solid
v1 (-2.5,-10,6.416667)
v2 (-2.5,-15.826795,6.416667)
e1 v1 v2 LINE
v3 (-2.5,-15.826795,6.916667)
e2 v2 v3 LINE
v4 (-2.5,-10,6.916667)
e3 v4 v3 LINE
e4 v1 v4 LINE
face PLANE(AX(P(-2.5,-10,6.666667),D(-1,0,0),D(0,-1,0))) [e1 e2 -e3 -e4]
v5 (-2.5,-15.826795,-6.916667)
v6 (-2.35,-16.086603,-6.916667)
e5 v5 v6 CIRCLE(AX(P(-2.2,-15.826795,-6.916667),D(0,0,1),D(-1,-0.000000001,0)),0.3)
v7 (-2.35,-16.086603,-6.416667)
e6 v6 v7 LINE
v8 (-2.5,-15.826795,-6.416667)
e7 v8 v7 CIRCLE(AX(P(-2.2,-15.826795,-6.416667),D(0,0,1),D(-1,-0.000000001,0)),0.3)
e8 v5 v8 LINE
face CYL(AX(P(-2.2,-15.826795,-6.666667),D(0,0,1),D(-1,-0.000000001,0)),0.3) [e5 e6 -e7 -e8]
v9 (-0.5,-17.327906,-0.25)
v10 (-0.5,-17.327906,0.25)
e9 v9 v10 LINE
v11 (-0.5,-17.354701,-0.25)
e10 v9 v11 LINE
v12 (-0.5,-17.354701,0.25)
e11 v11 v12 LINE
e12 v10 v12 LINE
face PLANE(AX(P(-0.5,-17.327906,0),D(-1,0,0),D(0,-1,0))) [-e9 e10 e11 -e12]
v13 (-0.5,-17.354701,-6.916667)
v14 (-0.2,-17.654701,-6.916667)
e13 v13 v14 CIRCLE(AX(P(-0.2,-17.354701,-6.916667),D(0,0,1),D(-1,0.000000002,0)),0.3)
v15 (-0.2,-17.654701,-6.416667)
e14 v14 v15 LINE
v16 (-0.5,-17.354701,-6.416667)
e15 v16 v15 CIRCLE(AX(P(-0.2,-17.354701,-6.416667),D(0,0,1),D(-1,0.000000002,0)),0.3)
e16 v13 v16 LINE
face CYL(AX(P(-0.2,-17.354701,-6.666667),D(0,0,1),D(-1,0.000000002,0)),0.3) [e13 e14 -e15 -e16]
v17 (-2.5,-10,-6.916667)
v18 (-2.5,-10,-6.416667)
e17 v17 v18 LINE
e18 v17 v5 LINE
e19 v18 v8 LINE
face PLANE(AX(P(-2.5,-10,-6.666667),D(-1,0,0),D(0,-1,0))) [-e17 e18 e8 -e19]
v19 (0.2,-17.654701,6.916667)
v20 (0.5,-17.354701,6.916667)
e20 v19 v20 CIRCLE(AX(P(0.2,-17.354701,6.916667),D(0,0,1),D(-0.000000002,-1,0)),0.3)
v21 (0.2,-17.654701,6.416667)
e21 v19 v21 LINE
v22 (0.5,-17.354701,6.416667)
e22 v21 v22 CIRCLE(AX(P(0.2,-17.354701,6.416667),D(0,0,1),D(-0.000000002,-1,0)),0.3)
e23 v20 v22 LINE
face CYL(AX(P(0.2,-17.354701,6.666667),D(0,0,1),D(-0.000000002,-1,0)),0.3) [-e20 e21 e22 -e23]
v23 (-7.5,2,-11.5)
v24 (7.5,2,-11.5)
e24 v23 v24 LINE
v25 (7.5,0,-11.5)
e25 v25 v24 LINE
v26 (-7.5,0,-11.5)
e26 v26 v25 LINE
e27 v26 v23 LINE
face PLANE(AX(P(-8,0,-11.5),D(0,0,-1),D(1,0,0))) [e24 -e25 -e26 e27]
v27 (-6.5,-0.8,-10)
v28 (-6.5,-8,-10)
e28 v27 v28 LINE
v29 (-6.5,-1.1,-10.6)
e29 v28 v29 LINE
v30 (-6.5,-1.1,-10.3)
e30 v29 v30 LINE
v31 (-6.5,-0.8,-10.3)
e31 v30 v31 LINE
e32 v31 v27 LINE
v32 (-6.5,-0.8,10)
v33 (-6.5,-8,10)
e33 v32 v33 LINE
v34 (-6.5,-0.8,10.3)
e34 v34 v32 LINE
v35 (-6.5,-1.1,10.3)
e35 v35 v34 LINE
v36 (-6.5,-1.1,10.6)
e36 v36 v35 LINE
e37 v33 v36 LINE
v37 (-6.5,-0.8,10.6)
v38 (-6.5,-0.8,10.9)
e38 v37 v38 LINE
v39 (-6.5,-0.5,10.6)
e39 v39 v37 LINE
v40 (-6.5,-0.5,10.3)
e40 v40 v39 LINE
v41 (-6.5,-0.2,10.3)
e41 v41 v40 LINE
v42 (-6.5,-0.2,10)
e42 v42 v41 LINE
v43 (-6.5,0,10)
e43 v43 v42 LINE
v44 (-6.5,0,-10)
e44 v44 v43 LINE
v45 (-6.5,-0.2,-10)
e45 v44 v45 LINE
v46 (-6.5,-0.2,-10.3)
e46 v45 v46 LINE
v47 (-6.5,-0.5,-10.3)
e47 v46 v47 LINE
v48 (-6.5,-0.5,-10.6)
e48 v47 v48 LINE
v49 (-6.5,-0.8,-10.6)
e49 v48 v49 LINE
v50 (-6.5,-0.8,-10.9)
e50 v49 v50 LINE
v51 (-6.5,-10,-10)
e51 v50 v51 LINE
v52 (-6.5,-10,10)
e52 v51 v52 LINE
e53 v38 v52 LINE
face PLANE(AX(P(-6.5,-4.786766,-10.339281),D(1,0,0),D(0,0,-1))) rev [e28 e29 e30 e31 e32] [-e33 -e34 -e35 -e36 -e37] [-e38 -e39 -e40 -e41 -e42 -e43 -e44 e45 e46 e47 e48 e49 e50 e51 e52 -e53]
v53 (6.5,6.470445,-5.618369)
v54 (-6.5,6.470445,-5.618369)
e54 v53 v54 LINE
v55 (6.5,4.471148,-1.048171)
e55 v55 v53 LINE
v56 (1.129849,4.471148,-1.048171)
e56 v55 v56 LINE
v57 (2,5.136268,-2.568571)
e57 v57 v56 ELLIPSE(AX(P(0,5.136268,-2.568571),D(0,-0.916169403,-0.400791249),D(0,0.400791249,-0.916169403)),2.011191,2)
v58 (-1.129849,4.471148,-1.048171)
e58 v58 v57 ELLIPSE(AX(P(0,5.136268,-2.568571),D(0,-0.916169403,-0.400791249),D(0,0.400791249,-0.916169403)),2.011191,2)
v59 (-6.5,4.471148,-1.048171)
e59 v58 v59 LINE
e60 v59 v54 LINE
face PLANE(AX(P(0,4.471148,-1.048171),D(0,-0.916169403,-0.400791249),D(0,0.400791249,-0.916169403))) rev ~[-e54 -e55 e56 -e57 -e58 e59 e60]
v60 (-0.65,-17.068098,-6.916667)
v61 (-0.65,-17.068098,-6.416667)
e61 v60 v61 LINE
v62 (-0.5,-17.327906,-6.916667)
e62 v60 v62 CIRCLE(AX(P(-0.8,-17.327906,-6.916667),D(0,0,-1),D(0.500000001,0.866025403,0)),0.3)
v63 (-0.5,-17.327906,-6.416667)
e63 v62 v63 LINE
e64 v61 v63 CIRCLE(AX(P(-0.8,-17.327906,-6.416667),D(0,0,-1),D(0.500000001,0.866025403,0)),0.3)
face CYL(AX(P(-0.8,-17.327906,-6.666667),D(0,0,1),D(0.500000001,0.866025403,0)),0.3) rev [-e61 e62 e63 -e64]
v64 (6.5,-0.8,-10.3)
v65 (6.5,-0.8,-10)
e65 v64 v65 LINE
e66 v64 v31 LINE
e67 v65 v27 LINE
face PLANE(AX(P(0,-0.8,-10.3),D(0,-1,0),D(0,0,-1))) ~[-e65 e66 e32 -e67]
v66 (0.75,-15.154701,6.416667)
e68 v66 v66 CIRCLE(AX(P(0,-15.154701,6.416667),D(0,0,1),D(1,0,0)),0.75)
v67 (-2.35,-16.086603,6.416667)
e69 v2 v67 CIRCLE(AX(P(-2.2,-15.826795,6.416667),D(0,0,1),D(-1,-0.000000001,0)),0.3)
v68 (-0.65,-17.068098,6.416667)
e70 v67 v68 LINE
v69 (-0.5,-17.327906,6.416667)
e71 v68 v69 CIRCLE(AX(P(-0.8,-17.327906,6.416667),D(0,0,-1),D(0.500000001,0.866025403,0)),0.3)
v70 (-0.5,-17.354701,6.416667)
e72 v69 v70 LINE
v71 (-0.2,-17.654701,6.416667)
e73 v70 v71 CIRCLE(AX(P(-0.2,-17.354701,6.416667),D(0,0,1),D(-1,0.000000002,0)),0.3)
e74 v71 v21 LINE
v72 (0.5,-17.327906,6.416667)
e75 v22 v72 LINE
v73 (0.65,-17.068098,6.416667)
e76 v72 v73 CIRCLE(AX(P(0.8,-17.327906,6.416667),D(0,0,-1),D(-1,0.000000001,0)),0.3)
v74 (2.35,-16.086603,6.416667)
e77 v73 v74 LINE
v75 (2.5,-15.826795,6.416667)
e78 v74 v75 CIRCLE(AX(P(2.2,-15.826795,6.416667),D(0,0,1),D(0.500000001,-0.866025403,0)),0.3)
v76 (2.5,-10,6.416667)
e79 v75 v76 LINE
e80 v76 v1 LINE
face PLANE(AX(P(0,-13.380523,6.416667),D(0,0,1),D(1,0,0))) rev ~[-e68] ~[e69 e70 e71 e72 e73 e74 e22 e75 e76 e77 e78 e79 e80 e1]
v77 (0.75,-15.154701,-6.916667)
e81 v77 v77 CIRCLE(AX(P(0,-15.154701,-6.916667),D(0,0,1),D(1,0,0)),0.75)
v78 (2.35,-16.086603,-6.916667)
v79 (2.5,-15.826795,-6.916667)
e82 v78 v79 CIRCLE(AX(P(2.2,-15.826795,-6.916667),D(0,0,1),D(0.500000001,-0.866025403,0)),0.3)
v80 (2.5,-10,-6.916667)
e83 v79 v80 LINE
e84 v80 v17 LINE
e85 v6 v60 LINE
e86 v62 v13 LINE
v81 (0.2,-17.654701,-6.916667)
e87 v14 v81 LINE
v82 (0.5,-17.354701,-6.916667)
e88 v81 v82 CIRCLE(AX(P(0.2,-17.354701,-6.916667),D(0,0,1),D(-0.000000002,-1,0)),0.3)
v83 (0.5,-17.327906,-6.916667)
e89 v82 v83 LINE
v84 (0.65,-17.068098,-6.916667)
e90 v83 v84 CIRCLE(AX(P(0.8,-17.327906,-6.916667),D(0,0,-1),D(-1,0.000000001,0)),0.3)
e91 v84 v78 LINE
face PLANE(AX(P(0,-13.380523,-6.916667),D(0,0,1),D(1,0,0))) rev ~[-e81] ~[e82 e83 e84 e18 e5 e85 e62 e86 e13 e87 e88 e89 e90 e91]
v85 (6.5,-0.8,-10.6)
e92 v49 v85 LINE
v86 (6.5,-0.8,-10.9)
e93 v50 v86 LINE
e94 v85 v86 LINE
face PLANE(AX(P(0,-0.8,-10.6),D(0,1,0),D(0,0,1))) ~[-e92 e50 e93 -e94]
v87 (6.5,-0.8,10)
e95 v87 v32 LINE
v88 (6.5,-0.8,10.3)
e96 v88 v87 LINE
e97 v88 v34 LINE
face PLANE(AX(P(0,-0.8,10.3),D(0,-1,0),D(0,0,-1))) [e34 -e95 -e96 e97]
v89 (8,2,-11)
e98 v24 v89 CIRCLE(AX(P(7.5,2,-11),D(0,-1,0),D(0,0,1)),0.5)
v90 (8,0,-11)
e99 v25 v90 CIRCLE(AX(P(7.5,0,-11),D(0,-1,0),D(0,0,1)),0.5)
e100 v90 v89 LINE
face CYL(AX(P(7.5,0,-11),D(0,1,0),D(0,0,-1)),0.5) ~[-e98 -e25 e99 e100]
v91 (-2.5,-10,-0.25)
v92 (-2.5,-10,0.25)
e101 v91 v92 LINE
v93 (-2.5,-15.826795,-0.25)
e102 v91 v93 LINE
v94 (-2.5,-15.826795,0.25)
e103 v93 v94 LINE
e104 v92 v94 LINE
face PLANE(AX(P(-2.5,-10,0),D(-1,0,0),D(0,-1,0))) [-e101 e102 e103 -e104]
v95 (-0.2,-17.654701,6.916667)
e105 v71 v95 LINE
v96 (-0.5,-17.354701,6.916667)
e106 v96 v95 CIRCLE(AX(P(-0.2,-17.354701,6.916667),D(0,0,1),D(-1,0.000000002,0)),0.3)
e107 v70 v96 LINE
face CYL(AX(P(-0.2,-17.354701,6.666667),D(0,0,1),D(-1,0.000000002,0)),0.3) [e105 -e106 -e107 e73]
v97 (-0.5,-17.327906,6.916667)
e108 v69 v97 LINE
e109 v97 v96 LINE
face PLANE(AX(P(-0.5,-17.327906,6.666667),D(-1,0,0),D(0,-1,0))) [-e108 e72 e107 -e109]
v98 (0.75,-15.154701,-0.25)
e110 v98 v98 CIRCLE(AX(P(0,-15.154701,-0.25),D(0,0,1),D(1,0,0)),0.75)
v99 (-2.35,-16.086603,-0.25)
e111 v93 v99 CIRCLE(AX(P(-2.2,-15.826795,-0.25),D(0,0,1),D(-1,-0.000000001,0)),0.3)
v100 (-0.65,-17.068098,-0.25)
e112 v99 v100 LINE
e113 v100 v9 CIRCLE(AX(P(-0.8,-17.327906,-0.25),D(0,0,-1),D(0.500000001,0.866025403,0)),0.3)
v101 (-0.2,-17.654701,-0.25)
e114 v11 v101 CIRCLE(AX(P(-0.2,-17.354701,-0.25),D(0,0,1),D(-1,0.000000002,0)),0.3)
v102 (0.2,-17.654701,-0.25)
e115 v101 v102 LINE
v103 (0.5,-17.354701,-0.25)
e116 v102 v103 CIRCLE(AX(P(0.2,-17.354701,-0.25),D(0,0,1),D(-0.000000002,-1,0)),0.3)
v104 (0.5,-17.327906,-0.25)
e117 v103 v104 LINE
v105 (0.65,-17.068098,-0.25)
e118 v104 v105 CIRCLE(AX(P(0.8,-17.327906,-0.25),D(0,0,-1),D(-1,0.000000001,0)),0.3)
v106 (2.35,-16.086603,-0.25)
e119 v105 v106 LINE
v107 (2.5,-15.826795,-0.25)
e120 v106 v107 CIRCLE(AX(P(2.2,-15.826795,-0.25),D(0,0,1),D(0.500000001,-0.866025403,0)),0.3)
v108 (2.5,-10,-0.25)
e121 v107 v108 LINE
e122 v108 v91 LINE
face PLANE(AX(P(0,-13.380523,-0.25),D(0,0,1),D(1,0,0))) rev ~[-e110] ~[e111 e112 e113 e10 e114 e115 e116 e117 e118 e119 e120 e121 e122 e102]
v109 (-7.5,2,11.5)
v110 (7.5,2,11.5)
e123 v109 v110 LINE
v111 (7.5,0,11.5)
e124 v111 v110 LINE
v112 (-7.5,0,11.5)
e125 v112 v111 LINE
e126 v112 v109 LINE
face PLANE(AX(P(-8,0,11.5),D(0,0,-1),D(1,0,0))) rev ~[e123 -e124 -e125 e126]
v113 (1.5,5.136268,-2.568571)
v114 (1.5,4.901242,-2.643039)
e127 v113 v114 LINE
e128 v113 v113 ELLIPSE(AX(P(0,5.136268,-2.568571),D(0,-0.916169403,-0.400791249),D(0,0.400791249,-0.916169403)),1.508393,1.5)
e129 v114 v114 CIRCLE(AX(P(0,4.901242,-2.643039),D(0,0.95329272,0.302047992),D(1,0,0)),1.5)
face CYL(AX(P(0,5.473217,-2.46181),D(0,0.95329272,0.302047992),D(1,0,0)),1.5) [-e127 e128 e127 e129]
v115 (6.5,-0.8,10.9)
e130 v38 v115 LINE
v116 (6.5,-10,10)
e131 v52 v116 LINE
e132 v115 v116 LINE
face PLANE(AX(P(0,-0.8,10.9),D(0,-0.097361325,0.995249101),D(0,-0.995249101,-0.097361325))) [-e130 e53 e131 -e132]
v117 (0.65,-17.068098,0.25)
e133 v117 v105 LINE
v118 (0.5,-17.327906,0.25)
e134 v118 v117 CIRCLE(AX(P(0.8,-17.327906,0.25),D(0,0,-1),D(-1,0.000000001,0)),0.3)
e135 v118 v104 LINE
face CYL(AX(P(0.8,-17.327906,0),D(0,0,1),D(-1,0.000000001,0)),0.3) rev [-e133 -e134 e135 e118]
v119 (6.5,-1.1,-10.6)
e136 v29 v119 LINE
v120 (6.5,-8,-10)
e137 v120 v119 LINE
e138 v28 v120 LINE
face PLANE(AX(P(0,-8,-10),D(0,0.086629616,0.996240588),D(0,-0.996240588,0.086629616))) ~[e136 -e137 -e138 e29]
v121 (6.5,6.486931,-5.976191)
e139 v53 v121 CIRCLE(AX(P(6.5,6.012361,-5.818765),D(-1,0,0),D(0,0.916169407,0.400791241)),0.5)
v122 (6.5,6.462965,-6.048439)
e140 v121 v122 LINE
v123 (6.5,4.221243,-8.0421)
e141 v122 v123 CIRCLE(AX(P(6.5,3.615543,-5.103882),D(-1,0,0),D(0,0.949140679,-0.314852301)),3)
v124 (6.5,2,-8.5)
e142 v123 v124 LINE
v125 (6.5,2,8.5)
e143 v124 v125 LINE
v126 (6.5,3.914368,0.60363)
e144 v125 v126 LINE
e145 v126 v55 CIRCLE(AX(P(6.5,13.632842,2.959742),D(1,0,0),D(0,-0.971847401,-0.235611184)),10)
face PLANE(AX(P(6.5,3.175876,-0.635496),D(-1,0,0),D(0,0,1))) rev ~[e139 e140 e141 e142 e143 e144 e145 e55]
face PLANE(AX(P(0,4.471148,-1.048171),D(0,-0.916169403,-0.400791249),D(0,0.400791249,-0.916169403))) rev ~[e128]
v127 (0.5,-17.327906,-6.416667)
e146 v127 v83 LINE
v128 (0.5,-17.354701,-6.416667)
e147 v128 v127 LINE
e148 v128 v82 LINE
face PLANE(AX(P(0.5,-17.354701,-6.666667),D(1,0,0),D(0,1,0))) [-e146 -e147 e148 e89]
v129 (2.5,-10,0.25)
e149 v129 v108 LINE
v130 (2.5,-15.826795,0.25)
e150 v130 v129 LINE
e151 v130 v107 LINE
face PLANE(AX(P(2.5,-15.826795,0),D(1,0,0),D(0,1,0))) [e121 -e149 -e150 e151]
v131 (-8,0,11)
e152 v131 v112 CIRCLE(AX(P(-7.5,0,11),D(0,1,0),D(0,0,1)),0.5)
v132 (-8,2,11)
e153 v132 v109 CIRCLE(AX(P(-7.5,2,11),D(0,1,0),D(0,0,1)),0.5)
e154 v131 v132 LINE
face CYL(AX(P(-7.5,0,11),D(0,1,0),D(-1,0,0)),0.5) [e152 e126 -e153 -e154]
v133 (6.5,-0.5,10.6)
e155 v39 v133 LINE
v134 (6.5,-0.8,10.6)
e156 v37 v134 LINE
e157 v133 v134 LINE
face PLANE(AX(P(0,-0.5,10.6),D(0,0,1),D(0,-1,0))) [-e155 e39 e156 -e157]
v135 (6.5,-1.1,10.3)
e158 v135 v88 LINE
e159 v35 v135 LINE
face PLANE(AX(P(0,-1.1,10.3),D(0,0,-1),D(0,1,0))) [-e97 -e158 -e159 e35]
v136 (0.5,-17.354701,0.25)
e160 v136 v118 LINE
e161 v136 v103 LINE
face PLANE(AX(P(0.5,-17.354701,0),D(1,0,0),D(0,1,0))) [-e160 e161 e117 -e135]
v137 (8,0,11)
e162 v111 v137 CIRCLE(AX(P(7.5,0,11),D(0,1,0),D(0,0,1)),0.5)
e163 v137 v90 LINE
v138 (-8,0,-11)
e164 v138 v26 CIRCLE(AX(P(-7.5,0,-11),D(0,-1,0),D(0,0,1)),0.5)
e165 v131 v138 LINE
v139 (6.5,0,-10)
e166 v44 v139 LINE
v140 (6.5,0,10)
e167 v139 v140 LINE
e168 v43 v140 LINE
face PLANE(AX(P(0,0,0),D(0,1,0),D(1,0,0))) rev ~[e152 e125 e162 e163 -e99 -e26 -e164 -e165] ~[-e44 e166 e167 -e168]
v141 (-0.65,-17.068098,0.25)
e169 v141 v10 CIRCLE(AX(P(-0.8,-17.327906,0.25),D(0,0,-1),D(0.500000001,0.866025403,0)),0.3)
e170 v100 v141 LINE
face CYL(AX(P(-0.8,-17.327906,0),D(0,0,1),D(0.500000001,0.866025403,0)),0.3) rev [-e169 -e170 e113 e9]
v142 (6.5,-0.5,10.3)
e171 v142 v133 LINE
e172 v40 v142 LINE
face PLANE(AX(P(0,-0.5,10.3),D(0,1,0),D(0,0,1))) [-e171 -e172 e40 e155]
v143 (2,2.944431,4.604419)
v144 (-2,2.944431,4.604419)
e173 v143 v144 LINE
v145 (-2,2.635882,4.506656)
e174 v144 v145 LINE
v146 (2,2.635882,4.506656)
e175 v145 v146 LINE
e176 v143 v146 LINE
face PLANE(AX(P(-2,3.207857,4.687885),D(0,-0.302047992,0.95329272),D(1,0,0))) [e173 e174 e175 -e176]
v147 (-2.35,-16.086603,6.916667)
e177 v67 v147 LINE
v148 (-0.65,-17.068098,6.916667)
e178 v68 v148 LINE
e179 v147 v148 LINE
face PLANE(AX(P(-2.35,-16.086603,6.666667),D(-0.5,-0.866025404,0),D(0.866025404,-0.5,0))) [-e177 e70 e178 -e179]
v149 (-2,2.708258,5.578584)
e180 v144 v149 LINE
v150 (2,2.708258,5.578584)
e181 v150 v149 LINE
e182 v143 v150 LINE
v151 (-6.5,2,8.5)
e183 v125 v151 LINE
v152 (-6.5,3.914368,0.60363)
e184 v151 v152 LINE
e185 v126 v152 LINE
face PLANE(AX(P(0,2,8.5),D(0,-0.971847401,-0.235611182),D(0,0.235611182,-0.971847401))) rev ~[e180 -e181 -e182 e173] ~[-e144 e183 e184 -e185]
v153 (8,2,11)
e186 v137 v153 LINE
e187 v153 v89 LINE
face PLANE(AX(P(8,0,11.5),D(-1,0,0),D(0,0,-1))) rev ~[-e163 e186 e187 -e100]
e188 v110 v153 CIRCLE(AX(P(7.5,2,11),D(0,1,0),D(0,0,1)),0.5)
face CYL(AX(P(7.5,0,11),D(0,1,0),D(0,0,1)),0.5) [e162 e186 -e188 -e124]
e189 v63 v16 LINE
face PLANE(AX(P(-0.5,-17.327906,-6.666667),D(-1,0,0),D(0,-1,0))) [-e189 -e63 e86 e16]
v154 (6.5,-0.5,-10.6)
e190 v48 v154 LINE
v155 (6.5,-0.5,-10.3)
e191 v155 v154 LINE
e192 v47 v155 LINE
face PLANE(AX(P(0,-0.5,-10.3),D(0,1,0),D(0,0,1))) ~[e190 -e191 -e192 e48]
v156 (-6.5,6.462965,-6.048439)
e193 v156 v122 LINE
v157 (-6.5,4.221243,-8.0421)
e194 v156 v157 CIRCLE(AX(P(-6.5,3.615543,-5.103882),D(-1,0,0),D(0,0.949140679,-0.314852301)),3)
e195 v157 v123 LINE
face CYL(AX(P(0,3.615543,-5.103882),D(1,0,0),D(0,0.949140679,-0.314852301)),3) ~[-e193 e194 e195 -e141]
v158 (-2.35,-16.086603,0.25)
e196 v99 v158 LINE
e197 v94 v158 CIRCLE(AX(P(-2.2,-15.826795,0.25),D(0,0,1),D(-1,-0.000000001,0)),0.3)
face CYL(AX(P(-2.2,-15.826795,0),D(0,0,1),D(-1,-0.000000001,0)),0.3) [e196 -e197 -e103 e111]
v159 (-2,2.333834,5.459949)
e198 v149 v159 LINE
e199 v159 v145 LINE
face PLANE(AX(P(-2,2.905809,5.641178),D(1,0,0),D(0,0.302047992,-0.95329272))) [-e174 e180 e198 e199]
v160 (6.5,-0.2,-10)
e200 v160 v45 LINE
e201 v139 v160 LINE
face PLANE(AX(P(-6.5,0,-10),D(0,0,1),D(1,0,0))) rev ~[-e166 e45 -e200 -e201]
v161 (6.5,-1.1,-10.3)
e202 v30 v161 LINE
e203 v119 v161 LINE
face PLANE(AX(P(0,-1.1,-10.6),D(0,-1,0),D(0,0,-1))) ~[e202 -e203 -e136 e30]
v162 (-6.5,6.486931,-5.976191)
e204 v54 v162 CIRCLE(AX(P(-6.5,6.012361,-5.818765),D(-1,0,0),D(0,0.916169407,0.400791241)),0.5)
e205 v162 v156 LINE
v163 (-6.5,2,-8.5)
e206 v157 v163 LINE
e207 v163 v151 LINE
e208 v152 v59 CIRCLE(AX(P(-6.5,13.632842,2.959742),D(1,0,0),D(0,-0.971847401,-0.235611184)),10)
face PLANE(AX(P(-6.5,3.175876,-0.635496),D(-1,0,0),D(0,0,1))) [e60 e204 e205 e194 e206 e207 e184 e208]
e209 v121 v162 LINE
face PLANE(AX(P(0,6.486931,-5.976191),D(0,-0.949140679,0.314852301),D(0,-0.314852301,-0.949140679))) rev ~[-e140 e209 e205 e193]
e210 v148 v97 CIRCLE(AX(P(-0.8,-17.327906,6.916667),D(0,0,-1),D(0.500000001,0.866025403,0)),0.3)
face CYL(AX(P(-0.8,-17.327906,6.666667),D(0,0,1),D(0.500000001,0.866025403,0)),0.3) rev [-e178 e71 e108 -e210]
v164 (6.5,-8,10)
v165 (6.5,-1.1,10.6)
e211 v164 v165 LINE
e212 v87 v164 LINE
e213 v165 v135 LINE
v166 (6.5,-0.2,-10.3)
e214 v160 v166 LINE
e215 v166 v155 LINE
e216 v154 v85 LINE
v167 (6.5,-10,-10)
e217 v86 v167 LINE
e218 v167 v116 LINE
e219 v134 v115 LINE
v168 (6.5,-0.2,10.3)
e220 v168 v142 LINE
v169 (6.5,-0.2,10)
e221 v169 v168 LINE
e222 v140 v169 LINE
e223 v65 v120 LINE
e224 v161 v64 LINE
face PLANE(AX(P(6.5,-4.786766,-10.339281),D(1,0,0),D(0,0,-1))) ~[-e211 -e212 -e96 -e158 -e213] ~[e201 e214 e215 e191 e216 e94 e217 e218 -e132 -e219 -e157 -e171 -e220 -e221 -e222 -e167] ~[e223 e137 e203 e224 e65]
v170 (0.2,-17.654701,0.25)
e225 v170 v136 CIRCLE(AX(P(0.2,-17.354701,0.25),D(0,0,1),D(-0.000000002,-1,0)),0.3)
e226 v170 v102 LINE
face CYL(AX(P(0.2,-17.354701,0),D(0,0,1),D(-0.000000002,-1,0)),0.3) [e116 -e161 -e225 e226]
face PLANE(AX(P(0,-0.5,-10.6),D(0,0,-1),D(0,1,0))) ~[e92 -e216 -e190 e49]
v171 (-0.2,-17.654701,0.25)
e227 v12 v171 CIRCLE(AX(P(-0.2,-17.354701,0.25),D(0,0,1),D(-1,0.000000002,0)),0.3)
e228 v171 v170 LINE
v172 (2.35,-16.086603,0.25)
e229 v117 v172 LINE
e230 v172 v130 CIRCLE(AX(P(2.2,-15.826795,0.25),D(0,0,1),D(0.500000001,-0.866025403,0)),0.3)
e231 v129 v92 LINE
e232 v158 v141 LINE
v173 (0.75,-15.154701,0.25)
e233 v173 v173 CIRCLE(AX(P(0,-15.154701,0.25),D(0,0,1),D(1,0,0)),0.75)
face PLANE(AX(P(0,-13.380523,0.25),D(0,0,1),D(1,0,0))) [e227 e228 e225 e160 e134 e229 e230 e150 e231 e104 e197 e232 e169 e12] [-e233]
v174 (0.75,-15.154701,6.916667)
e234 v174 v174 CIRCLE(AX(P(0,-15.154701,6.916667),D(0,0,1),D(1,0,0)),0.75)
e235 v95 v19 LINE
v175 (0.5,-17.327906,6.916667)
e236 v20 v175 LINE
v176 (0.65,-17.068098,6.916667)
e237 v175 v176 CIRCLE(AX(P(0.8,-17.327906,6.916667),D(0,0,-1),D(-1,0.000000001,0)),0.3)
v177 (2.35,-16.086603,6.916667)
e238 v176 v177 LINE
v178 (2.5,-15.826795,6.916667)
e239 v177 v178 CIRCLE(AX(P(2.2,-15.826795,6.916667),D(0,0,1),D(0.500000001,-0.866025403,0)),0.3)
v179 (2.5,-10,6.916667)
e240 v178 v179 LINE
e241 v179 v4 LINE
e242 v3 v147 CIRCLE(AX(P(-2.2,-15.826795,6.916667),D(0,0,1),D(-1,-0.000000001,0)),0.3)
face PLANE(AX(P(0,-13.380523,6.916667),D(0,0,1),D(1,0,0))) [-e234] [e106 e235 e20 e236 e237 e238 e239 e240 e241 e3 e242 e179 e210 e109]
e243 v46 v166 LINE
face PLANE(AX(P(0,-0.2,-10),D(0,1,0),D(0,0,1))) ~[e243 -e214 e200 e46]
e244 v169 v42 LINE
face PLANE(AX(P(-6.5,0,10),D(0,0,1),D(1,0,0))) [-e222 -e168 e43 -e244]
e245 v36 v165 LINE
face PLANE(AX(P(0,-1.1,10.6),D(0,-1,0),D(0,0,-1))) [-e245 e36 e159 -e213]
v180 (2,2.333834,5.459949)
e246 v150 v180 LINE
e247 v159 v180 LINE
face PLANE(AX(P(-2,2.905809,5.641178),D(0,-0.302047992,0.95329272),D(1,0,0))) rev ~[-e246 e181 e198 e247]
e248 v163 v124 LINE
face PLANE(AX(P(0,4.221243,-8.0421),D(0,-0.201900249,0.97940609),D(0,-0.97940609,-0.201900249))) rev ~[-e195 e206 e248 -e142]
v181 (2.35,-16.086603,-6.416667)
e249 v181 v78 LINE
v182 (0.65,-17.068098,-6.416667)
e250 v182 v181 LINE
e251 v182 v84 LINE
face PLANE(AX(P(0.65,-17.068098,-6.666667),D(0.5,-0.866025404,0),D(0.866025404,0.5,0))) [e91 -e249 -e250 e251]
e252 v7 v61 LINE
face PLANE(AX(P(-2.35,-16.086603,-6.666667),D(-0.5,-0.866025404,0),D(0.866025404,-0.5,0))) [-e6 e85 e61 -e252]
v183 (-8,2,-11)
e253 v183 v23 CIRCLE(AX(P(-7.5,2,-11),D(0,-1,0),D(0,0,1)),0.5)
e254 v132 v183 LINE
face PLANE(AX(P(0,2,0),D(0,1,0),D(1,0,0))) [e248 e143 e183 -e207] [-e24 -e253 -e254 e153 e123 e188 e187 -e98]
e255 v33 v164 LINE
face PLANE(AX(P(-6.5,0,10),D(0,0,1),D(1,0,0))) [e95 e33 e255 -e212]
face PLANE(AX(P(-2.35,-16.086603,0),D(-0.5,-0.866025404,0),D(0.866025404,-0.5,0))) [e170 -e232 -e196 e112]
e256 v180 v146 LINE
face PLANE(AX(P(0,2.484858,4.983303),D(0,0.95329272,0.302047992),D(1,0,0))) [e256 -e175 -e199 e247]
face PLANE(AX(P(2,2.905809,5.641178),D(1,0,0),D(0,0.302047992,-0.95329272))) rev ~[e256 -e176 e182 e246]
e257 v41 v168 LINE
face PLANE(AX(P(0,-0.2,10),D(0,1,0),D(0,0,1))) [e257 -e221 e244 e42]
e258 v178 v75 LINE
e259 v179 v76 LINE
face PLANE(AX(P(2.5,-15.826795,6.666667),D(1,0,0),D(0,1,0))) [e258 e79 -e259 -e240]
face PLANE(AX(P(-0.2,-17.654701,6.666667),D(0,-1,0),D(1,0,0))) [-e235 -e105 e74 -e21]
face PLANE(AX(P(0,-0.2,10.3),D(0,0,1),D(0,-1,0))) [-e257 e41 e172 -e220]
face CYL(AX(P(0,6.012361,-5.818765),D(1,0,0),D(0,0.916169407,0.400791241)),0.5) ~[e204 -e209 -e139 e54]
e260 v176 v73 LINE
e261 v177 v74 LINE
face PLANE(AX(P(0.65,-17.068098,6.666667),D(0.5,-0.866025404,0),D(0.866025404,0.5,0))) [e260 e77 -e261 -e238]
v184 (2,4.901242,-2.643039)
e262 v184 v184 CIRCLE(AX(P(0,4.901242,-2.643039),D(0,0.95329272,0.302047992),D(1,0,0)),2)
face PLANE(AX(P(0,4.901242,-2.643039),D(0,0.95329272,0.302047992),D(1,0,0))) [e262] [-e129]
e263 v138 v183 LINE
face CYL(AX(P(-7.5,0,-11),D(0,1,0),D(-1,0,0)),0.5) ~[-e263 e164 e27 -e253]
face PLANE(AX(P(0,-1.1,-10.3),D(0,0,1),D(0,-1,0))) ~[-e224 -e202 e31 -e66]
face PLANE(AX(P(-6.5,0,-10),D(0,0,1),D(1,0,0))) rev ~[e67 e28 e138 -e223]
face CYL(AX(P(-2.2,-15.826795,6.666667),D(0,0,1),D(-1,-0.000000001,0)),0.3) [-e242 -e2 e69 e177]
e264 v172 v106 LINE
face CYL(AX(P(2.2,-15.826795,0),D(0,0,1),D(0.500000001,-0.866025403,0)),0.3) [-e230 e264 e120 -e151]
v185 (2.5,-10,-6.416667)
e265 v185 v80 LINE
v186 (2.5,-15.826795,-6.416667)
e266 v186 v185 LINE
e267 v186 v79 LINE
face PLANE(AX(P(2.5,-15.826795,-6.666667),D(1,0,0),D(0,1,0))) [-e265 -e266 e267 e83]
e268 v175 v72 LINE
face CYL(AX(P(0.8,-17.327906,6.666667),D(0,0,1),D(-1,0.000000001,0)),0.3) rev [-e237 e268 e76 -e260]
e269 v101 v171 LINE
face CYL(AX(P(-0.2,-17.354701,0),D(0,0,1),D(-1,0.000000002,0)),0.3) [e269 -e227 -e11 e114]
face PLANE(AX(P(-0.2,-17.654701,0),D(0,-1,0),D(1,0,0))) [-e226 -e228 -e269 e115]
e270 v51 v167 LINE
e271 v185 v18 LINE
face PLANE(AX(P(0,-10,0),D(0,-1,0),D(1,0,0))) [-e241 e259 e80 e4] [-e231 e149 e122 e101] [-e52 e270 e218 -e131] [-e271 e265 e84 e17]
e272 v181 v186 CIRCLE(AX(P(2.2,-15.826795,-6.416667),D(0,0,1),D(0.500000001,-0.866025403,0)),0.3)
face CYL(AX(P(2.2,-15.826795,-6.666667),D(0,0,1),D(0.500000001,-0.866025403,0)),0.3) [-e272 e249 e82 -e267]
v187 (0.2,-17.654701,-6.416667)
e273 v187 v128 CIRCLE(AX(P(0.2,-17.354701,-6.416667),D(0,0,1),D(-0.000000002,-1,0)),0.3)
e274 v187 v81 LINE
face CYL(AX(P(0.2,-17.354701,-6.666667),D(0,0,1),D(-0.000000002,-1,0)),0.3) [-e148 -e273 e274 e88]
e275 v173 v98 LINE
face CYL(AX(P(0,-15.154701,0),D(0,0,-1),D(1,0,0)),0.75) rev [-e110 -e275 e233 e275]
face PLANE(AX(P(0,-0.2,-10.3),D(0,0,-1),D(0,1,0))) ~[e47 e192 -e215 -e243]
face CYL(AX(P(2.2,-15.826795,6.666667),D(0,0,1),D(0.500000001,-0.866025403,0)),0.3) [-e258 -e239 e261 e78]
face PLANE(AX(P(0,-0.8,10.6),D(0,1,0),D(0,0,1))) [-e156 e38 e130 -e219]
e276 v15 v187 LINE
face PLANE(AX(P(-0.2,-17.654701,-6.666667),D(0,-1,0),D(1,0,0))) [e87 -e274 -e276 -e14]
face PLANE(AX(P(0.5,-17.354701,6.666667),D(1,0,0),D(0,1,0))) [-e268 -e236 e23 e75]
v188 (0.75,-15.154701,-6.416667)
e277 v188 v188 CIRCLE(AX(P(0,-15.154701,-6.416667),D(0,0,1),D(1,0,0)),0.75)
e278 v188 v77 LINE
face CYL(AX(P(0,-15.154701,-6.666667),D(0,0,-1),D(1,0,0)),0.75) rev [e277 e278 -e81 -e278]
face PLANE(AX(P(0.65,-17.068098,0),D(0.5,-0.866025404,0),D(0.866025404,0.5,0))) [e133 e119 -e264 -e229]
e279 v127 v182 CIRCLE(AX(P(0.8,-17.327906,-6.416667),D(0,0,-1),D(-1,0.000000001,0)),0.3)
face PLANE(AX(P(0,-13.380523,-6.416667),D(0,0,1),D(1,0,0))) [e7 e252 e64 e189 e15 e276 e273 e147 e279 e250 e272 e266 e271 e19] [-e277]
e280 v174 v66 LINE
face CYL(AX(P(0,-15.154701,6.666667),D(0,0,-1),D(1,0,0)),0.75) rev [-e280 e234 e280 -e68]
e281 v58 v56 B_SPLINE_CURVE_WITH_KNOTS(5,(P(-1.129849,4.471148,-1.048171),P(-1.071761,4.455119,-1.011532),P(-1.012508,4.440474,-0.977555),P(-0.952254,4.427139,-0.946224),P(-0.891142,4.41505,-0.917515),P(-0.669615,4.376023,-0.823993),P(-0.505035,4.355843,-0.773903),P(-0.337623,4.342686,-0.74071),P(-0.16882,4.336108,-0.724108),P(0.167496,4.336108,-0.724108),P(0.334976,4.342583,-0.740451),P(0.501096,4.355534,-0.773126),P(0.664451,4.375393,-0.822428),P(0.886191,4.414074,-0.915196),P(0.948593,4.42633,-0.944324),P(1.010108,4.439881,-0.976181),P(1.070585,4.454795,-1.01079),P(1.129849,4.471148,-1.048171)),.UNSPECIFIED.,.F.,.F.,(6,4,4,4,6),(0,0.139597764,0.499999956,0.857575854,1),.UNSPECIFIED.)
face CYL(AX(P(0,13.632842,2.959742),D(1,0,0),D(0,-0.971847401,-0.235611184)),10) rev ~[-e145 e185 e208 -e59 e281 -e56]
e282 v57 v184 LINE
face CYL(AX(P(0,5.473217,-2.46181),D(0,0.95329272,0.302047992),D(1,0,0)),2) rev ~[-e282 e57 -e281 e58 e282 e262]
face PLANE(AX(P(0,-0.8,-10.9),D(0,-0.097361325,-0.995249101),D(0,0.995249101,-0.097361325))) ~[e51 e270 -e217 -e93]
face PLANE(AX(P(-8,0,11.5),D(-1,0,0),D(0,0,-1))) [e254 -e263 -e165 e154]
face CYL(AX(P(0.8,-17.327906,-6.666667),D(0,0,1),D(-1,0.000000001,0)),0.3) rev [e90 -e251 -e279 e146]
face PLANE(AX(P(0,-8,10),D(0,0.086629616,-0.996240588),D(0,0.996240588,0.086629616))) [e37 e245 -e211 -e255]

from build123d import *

# Parameters (mm, degrees)
CROQUIS1_W              = 16
CROQUIS1_H              = 23
SALIENTE_EXTRUIR1_DEPTH = 2
CROQUIS2_W              = 13
CROQUIS2_H              = 20
SALIENTE_EXTRUIR2_DEPTH = 10
SALIENTE_EXTRUIR3_DEPTH = 6.5
CROQUIS4_R              = 2
CROQUIS4_R_2            = 1.5
CROQUIS4_W              = 4
CROQUIS4_H              = 1
CORTAR_EXTRUIR1_DEPTH   = 0.6
SALIENTE_EXTRUIR6_DEPTH = 6.5
REDONDEO1_R             = 0.5
CROQUIS6_R              = 0.75
SALIENTE_EXTRUIR7_DEPTH = 0.25
MATRIZL1_COUNT          = 2
MATRIZL1_PITCH          = 6.666666667
MATRIZL2_COUNT          = 2
MATRIZL2_PITCH          = 6.666666667


with BuildPart() as part:
    # Croquis1 → Saliente-Extruir1 (new body)
    with BuildSketch(Plane(origin=(0, 0, 0), x_dir=(1, 0, 0), z_dir=(0, 1, 0))):
        Rectangle(CROQUIS1_W, CROQUIS1_H)
    extrude(amount=SALIENTE_EXTRUIR1_DEPTH)

    # Croquis2 → Saliente-Extruir2 (add)
    with BuildSketch(Plane.XZ):
        Rectangle(CROQUIS2_W, CROQUIS2_H)
    extrude(amount=SALIENTE_EXTRUIR2_DEPTH)

    # Croquis3 → Saliente-Extruir3 (add, symmetric)
    with BuildSketch(Plane(origin=(0, 0, 0), x_dir=(0, 0, -1), z_dir=(1, 0, 0))):
        with BuildLine():
            Line((8.5, 2), (-8.5, 2))
            Line((-8.5, 2), (-0.603629693, 3.914367561))
            ThreePointArc((-0.603629693, 3.914367561), (0.234425411, 4.156697965), (1.048170976, 4.471147542))
            Line((1.048170976, 4.471147542), (5.618369194, 6.470445319))
            ThreePointArc((5.618369194, 6.470445319), (5.795753126, 6.511830798), (5.976190969, 6.486930957))
            Line((5.976190969, 6.486930957), (6.048439126, 6.462964543))
            ThreePointArc((6.048439126, 6.462964543), (7.345603515, 5.609203874), (8.042100494, 4.221243251))
            Line((8.042100494, 4.221243251), (8.5, 2))
        make_face()
    extrude(amount=SALIENTE_EXTRUIR3_DEPTH, both=True)

    # Croquis4 → Cortar-Extruir1 (cut)
    with BuildSketch(Plane(origin=(0, 4.265025315, 1.351360717), x_dir=(1, 0, 0), z_dir=(0, 0.95329272, 0.302047992))):
        with Locations((0, 4)):
            Circle(CROQUIS4_R)
        with Locations((0, 4)):
            Circle(CROQUIS4_R_2, mode=Mode.SUBTRACT)
        with Locations((0, -4)):
            Rectangle(CROQUIS4_W, CROQUIS4_H)
    extrude(amount=-CORTAR_EXTRUIR1_DEPTH, mode=Mode.SUBTRACT)

    # Croquis5 → Saliente-Extruir6 (add, symmetric)
    with BuildSketch(Plane(origin=(0, 0, 0), x_dir=(0, 0, -1), z_dir=(1, 0, 0))):
        Polygon((-10, -0.2), (-10.3, -0.2), (-10.3, -0.5), (-10.6, -0.5), (-10.6, -0.8), (-10.9, -0.8), (-10, -10), (-10, -8), (-10.6, -1.1), (-10.3, -1.1), (-10.3, -0.8), (-10, -0.8), align=None)
    saliente_extruir6 = extrude(amount=SALIENTE_EXTRUIR6_DEPTH, both=True)

    # Simetría2: Saliente-Extruir6 across plane
    add(saliente_extruir6.mirror(Plane.XY))

    # Redondeo1
    redondeo1_edges = [part.edges().sort_by_distance(p)[0] for p in [
        (-8, 1, -11.5),
        (8, 1, -11.5),
        (8, 1, 11.5),
        (-8, 1, 11.5),
    ]]
    fillet(redondeo1_edges, radius=REDONDEO1_R)

    # Croquis6 → Saliente-Extruir7 (add, symmetric)
    with BuildSketch(Plane.XY):
        with BuildLine():
            Line((2.5, -10), (-2.5, -10))
            Line((-2.5, -10), (-2.5, -15.826794919))
            ThreePointArc((-2.5, -15.826794919), (-2.459807621, -15.976794919), (-2.35, -16.08660254))
            Line((-2.35, -16.08660254), (-0.65, -17.068097998))
            ThreePointArc((-0.65, -17.068097998), (-0.540192379, -17.177905619), (-0.5, -17.327905619))
            Line((-0.5, -17.327905619), (-0.5, -17.354700538))
            ThreePointArc((-0.5, -17.354700538), (-0.412132034, -17.566832573), (-0.2, -17.654700538))
            Line((-0.2, -17.654700538), (0.2, -17.654700538))
            ThreePointArc((0.2, -17.654700538), (0.412132034, -17.566832573), (0.5, -17.354700538))
            Line((0.5, -17.354700538), (0.5, -17.327905619))
            ThreePointArc((0.5, -17.327905619), (0.540192379, -17.177905619), (0.65, -17.068097998))
            Line((0.65, -17.068097998), (2.35, -16.08660254))
            ThreePointArc((2.35, -16.08660254), (2.459807621, -15.976794919), (2.5, -15.826794919))
            Line((2.5, -15.826794919), (2.5, -10))
        make_face()
        with Locations((0, -15.154700538)):
            Circle(CROQUIS6_R, mode=Mode.SUBTRACT)
    saliente_extruir7 = extrude(amount=SALIENTE_EXTRUIR7_DEPTH, both=True)

    # MatrizL1: Saliente-Extruir7 ×2
    with Locations(*[(0, 0, -i * MATRIZL1_PITCH) for i in range(1, MATRIZL1_COUNT)]):
        add(saliente_extruir7)

    # MatrizL2: Saliente-Extruir7 ×2
    with Locations(*[(0, 0, i * MATRIZL2_PITCH) for i in range(1, MATRIZL2_COUNT)]):
        add(saliente_extruir7)


solid = part.part
